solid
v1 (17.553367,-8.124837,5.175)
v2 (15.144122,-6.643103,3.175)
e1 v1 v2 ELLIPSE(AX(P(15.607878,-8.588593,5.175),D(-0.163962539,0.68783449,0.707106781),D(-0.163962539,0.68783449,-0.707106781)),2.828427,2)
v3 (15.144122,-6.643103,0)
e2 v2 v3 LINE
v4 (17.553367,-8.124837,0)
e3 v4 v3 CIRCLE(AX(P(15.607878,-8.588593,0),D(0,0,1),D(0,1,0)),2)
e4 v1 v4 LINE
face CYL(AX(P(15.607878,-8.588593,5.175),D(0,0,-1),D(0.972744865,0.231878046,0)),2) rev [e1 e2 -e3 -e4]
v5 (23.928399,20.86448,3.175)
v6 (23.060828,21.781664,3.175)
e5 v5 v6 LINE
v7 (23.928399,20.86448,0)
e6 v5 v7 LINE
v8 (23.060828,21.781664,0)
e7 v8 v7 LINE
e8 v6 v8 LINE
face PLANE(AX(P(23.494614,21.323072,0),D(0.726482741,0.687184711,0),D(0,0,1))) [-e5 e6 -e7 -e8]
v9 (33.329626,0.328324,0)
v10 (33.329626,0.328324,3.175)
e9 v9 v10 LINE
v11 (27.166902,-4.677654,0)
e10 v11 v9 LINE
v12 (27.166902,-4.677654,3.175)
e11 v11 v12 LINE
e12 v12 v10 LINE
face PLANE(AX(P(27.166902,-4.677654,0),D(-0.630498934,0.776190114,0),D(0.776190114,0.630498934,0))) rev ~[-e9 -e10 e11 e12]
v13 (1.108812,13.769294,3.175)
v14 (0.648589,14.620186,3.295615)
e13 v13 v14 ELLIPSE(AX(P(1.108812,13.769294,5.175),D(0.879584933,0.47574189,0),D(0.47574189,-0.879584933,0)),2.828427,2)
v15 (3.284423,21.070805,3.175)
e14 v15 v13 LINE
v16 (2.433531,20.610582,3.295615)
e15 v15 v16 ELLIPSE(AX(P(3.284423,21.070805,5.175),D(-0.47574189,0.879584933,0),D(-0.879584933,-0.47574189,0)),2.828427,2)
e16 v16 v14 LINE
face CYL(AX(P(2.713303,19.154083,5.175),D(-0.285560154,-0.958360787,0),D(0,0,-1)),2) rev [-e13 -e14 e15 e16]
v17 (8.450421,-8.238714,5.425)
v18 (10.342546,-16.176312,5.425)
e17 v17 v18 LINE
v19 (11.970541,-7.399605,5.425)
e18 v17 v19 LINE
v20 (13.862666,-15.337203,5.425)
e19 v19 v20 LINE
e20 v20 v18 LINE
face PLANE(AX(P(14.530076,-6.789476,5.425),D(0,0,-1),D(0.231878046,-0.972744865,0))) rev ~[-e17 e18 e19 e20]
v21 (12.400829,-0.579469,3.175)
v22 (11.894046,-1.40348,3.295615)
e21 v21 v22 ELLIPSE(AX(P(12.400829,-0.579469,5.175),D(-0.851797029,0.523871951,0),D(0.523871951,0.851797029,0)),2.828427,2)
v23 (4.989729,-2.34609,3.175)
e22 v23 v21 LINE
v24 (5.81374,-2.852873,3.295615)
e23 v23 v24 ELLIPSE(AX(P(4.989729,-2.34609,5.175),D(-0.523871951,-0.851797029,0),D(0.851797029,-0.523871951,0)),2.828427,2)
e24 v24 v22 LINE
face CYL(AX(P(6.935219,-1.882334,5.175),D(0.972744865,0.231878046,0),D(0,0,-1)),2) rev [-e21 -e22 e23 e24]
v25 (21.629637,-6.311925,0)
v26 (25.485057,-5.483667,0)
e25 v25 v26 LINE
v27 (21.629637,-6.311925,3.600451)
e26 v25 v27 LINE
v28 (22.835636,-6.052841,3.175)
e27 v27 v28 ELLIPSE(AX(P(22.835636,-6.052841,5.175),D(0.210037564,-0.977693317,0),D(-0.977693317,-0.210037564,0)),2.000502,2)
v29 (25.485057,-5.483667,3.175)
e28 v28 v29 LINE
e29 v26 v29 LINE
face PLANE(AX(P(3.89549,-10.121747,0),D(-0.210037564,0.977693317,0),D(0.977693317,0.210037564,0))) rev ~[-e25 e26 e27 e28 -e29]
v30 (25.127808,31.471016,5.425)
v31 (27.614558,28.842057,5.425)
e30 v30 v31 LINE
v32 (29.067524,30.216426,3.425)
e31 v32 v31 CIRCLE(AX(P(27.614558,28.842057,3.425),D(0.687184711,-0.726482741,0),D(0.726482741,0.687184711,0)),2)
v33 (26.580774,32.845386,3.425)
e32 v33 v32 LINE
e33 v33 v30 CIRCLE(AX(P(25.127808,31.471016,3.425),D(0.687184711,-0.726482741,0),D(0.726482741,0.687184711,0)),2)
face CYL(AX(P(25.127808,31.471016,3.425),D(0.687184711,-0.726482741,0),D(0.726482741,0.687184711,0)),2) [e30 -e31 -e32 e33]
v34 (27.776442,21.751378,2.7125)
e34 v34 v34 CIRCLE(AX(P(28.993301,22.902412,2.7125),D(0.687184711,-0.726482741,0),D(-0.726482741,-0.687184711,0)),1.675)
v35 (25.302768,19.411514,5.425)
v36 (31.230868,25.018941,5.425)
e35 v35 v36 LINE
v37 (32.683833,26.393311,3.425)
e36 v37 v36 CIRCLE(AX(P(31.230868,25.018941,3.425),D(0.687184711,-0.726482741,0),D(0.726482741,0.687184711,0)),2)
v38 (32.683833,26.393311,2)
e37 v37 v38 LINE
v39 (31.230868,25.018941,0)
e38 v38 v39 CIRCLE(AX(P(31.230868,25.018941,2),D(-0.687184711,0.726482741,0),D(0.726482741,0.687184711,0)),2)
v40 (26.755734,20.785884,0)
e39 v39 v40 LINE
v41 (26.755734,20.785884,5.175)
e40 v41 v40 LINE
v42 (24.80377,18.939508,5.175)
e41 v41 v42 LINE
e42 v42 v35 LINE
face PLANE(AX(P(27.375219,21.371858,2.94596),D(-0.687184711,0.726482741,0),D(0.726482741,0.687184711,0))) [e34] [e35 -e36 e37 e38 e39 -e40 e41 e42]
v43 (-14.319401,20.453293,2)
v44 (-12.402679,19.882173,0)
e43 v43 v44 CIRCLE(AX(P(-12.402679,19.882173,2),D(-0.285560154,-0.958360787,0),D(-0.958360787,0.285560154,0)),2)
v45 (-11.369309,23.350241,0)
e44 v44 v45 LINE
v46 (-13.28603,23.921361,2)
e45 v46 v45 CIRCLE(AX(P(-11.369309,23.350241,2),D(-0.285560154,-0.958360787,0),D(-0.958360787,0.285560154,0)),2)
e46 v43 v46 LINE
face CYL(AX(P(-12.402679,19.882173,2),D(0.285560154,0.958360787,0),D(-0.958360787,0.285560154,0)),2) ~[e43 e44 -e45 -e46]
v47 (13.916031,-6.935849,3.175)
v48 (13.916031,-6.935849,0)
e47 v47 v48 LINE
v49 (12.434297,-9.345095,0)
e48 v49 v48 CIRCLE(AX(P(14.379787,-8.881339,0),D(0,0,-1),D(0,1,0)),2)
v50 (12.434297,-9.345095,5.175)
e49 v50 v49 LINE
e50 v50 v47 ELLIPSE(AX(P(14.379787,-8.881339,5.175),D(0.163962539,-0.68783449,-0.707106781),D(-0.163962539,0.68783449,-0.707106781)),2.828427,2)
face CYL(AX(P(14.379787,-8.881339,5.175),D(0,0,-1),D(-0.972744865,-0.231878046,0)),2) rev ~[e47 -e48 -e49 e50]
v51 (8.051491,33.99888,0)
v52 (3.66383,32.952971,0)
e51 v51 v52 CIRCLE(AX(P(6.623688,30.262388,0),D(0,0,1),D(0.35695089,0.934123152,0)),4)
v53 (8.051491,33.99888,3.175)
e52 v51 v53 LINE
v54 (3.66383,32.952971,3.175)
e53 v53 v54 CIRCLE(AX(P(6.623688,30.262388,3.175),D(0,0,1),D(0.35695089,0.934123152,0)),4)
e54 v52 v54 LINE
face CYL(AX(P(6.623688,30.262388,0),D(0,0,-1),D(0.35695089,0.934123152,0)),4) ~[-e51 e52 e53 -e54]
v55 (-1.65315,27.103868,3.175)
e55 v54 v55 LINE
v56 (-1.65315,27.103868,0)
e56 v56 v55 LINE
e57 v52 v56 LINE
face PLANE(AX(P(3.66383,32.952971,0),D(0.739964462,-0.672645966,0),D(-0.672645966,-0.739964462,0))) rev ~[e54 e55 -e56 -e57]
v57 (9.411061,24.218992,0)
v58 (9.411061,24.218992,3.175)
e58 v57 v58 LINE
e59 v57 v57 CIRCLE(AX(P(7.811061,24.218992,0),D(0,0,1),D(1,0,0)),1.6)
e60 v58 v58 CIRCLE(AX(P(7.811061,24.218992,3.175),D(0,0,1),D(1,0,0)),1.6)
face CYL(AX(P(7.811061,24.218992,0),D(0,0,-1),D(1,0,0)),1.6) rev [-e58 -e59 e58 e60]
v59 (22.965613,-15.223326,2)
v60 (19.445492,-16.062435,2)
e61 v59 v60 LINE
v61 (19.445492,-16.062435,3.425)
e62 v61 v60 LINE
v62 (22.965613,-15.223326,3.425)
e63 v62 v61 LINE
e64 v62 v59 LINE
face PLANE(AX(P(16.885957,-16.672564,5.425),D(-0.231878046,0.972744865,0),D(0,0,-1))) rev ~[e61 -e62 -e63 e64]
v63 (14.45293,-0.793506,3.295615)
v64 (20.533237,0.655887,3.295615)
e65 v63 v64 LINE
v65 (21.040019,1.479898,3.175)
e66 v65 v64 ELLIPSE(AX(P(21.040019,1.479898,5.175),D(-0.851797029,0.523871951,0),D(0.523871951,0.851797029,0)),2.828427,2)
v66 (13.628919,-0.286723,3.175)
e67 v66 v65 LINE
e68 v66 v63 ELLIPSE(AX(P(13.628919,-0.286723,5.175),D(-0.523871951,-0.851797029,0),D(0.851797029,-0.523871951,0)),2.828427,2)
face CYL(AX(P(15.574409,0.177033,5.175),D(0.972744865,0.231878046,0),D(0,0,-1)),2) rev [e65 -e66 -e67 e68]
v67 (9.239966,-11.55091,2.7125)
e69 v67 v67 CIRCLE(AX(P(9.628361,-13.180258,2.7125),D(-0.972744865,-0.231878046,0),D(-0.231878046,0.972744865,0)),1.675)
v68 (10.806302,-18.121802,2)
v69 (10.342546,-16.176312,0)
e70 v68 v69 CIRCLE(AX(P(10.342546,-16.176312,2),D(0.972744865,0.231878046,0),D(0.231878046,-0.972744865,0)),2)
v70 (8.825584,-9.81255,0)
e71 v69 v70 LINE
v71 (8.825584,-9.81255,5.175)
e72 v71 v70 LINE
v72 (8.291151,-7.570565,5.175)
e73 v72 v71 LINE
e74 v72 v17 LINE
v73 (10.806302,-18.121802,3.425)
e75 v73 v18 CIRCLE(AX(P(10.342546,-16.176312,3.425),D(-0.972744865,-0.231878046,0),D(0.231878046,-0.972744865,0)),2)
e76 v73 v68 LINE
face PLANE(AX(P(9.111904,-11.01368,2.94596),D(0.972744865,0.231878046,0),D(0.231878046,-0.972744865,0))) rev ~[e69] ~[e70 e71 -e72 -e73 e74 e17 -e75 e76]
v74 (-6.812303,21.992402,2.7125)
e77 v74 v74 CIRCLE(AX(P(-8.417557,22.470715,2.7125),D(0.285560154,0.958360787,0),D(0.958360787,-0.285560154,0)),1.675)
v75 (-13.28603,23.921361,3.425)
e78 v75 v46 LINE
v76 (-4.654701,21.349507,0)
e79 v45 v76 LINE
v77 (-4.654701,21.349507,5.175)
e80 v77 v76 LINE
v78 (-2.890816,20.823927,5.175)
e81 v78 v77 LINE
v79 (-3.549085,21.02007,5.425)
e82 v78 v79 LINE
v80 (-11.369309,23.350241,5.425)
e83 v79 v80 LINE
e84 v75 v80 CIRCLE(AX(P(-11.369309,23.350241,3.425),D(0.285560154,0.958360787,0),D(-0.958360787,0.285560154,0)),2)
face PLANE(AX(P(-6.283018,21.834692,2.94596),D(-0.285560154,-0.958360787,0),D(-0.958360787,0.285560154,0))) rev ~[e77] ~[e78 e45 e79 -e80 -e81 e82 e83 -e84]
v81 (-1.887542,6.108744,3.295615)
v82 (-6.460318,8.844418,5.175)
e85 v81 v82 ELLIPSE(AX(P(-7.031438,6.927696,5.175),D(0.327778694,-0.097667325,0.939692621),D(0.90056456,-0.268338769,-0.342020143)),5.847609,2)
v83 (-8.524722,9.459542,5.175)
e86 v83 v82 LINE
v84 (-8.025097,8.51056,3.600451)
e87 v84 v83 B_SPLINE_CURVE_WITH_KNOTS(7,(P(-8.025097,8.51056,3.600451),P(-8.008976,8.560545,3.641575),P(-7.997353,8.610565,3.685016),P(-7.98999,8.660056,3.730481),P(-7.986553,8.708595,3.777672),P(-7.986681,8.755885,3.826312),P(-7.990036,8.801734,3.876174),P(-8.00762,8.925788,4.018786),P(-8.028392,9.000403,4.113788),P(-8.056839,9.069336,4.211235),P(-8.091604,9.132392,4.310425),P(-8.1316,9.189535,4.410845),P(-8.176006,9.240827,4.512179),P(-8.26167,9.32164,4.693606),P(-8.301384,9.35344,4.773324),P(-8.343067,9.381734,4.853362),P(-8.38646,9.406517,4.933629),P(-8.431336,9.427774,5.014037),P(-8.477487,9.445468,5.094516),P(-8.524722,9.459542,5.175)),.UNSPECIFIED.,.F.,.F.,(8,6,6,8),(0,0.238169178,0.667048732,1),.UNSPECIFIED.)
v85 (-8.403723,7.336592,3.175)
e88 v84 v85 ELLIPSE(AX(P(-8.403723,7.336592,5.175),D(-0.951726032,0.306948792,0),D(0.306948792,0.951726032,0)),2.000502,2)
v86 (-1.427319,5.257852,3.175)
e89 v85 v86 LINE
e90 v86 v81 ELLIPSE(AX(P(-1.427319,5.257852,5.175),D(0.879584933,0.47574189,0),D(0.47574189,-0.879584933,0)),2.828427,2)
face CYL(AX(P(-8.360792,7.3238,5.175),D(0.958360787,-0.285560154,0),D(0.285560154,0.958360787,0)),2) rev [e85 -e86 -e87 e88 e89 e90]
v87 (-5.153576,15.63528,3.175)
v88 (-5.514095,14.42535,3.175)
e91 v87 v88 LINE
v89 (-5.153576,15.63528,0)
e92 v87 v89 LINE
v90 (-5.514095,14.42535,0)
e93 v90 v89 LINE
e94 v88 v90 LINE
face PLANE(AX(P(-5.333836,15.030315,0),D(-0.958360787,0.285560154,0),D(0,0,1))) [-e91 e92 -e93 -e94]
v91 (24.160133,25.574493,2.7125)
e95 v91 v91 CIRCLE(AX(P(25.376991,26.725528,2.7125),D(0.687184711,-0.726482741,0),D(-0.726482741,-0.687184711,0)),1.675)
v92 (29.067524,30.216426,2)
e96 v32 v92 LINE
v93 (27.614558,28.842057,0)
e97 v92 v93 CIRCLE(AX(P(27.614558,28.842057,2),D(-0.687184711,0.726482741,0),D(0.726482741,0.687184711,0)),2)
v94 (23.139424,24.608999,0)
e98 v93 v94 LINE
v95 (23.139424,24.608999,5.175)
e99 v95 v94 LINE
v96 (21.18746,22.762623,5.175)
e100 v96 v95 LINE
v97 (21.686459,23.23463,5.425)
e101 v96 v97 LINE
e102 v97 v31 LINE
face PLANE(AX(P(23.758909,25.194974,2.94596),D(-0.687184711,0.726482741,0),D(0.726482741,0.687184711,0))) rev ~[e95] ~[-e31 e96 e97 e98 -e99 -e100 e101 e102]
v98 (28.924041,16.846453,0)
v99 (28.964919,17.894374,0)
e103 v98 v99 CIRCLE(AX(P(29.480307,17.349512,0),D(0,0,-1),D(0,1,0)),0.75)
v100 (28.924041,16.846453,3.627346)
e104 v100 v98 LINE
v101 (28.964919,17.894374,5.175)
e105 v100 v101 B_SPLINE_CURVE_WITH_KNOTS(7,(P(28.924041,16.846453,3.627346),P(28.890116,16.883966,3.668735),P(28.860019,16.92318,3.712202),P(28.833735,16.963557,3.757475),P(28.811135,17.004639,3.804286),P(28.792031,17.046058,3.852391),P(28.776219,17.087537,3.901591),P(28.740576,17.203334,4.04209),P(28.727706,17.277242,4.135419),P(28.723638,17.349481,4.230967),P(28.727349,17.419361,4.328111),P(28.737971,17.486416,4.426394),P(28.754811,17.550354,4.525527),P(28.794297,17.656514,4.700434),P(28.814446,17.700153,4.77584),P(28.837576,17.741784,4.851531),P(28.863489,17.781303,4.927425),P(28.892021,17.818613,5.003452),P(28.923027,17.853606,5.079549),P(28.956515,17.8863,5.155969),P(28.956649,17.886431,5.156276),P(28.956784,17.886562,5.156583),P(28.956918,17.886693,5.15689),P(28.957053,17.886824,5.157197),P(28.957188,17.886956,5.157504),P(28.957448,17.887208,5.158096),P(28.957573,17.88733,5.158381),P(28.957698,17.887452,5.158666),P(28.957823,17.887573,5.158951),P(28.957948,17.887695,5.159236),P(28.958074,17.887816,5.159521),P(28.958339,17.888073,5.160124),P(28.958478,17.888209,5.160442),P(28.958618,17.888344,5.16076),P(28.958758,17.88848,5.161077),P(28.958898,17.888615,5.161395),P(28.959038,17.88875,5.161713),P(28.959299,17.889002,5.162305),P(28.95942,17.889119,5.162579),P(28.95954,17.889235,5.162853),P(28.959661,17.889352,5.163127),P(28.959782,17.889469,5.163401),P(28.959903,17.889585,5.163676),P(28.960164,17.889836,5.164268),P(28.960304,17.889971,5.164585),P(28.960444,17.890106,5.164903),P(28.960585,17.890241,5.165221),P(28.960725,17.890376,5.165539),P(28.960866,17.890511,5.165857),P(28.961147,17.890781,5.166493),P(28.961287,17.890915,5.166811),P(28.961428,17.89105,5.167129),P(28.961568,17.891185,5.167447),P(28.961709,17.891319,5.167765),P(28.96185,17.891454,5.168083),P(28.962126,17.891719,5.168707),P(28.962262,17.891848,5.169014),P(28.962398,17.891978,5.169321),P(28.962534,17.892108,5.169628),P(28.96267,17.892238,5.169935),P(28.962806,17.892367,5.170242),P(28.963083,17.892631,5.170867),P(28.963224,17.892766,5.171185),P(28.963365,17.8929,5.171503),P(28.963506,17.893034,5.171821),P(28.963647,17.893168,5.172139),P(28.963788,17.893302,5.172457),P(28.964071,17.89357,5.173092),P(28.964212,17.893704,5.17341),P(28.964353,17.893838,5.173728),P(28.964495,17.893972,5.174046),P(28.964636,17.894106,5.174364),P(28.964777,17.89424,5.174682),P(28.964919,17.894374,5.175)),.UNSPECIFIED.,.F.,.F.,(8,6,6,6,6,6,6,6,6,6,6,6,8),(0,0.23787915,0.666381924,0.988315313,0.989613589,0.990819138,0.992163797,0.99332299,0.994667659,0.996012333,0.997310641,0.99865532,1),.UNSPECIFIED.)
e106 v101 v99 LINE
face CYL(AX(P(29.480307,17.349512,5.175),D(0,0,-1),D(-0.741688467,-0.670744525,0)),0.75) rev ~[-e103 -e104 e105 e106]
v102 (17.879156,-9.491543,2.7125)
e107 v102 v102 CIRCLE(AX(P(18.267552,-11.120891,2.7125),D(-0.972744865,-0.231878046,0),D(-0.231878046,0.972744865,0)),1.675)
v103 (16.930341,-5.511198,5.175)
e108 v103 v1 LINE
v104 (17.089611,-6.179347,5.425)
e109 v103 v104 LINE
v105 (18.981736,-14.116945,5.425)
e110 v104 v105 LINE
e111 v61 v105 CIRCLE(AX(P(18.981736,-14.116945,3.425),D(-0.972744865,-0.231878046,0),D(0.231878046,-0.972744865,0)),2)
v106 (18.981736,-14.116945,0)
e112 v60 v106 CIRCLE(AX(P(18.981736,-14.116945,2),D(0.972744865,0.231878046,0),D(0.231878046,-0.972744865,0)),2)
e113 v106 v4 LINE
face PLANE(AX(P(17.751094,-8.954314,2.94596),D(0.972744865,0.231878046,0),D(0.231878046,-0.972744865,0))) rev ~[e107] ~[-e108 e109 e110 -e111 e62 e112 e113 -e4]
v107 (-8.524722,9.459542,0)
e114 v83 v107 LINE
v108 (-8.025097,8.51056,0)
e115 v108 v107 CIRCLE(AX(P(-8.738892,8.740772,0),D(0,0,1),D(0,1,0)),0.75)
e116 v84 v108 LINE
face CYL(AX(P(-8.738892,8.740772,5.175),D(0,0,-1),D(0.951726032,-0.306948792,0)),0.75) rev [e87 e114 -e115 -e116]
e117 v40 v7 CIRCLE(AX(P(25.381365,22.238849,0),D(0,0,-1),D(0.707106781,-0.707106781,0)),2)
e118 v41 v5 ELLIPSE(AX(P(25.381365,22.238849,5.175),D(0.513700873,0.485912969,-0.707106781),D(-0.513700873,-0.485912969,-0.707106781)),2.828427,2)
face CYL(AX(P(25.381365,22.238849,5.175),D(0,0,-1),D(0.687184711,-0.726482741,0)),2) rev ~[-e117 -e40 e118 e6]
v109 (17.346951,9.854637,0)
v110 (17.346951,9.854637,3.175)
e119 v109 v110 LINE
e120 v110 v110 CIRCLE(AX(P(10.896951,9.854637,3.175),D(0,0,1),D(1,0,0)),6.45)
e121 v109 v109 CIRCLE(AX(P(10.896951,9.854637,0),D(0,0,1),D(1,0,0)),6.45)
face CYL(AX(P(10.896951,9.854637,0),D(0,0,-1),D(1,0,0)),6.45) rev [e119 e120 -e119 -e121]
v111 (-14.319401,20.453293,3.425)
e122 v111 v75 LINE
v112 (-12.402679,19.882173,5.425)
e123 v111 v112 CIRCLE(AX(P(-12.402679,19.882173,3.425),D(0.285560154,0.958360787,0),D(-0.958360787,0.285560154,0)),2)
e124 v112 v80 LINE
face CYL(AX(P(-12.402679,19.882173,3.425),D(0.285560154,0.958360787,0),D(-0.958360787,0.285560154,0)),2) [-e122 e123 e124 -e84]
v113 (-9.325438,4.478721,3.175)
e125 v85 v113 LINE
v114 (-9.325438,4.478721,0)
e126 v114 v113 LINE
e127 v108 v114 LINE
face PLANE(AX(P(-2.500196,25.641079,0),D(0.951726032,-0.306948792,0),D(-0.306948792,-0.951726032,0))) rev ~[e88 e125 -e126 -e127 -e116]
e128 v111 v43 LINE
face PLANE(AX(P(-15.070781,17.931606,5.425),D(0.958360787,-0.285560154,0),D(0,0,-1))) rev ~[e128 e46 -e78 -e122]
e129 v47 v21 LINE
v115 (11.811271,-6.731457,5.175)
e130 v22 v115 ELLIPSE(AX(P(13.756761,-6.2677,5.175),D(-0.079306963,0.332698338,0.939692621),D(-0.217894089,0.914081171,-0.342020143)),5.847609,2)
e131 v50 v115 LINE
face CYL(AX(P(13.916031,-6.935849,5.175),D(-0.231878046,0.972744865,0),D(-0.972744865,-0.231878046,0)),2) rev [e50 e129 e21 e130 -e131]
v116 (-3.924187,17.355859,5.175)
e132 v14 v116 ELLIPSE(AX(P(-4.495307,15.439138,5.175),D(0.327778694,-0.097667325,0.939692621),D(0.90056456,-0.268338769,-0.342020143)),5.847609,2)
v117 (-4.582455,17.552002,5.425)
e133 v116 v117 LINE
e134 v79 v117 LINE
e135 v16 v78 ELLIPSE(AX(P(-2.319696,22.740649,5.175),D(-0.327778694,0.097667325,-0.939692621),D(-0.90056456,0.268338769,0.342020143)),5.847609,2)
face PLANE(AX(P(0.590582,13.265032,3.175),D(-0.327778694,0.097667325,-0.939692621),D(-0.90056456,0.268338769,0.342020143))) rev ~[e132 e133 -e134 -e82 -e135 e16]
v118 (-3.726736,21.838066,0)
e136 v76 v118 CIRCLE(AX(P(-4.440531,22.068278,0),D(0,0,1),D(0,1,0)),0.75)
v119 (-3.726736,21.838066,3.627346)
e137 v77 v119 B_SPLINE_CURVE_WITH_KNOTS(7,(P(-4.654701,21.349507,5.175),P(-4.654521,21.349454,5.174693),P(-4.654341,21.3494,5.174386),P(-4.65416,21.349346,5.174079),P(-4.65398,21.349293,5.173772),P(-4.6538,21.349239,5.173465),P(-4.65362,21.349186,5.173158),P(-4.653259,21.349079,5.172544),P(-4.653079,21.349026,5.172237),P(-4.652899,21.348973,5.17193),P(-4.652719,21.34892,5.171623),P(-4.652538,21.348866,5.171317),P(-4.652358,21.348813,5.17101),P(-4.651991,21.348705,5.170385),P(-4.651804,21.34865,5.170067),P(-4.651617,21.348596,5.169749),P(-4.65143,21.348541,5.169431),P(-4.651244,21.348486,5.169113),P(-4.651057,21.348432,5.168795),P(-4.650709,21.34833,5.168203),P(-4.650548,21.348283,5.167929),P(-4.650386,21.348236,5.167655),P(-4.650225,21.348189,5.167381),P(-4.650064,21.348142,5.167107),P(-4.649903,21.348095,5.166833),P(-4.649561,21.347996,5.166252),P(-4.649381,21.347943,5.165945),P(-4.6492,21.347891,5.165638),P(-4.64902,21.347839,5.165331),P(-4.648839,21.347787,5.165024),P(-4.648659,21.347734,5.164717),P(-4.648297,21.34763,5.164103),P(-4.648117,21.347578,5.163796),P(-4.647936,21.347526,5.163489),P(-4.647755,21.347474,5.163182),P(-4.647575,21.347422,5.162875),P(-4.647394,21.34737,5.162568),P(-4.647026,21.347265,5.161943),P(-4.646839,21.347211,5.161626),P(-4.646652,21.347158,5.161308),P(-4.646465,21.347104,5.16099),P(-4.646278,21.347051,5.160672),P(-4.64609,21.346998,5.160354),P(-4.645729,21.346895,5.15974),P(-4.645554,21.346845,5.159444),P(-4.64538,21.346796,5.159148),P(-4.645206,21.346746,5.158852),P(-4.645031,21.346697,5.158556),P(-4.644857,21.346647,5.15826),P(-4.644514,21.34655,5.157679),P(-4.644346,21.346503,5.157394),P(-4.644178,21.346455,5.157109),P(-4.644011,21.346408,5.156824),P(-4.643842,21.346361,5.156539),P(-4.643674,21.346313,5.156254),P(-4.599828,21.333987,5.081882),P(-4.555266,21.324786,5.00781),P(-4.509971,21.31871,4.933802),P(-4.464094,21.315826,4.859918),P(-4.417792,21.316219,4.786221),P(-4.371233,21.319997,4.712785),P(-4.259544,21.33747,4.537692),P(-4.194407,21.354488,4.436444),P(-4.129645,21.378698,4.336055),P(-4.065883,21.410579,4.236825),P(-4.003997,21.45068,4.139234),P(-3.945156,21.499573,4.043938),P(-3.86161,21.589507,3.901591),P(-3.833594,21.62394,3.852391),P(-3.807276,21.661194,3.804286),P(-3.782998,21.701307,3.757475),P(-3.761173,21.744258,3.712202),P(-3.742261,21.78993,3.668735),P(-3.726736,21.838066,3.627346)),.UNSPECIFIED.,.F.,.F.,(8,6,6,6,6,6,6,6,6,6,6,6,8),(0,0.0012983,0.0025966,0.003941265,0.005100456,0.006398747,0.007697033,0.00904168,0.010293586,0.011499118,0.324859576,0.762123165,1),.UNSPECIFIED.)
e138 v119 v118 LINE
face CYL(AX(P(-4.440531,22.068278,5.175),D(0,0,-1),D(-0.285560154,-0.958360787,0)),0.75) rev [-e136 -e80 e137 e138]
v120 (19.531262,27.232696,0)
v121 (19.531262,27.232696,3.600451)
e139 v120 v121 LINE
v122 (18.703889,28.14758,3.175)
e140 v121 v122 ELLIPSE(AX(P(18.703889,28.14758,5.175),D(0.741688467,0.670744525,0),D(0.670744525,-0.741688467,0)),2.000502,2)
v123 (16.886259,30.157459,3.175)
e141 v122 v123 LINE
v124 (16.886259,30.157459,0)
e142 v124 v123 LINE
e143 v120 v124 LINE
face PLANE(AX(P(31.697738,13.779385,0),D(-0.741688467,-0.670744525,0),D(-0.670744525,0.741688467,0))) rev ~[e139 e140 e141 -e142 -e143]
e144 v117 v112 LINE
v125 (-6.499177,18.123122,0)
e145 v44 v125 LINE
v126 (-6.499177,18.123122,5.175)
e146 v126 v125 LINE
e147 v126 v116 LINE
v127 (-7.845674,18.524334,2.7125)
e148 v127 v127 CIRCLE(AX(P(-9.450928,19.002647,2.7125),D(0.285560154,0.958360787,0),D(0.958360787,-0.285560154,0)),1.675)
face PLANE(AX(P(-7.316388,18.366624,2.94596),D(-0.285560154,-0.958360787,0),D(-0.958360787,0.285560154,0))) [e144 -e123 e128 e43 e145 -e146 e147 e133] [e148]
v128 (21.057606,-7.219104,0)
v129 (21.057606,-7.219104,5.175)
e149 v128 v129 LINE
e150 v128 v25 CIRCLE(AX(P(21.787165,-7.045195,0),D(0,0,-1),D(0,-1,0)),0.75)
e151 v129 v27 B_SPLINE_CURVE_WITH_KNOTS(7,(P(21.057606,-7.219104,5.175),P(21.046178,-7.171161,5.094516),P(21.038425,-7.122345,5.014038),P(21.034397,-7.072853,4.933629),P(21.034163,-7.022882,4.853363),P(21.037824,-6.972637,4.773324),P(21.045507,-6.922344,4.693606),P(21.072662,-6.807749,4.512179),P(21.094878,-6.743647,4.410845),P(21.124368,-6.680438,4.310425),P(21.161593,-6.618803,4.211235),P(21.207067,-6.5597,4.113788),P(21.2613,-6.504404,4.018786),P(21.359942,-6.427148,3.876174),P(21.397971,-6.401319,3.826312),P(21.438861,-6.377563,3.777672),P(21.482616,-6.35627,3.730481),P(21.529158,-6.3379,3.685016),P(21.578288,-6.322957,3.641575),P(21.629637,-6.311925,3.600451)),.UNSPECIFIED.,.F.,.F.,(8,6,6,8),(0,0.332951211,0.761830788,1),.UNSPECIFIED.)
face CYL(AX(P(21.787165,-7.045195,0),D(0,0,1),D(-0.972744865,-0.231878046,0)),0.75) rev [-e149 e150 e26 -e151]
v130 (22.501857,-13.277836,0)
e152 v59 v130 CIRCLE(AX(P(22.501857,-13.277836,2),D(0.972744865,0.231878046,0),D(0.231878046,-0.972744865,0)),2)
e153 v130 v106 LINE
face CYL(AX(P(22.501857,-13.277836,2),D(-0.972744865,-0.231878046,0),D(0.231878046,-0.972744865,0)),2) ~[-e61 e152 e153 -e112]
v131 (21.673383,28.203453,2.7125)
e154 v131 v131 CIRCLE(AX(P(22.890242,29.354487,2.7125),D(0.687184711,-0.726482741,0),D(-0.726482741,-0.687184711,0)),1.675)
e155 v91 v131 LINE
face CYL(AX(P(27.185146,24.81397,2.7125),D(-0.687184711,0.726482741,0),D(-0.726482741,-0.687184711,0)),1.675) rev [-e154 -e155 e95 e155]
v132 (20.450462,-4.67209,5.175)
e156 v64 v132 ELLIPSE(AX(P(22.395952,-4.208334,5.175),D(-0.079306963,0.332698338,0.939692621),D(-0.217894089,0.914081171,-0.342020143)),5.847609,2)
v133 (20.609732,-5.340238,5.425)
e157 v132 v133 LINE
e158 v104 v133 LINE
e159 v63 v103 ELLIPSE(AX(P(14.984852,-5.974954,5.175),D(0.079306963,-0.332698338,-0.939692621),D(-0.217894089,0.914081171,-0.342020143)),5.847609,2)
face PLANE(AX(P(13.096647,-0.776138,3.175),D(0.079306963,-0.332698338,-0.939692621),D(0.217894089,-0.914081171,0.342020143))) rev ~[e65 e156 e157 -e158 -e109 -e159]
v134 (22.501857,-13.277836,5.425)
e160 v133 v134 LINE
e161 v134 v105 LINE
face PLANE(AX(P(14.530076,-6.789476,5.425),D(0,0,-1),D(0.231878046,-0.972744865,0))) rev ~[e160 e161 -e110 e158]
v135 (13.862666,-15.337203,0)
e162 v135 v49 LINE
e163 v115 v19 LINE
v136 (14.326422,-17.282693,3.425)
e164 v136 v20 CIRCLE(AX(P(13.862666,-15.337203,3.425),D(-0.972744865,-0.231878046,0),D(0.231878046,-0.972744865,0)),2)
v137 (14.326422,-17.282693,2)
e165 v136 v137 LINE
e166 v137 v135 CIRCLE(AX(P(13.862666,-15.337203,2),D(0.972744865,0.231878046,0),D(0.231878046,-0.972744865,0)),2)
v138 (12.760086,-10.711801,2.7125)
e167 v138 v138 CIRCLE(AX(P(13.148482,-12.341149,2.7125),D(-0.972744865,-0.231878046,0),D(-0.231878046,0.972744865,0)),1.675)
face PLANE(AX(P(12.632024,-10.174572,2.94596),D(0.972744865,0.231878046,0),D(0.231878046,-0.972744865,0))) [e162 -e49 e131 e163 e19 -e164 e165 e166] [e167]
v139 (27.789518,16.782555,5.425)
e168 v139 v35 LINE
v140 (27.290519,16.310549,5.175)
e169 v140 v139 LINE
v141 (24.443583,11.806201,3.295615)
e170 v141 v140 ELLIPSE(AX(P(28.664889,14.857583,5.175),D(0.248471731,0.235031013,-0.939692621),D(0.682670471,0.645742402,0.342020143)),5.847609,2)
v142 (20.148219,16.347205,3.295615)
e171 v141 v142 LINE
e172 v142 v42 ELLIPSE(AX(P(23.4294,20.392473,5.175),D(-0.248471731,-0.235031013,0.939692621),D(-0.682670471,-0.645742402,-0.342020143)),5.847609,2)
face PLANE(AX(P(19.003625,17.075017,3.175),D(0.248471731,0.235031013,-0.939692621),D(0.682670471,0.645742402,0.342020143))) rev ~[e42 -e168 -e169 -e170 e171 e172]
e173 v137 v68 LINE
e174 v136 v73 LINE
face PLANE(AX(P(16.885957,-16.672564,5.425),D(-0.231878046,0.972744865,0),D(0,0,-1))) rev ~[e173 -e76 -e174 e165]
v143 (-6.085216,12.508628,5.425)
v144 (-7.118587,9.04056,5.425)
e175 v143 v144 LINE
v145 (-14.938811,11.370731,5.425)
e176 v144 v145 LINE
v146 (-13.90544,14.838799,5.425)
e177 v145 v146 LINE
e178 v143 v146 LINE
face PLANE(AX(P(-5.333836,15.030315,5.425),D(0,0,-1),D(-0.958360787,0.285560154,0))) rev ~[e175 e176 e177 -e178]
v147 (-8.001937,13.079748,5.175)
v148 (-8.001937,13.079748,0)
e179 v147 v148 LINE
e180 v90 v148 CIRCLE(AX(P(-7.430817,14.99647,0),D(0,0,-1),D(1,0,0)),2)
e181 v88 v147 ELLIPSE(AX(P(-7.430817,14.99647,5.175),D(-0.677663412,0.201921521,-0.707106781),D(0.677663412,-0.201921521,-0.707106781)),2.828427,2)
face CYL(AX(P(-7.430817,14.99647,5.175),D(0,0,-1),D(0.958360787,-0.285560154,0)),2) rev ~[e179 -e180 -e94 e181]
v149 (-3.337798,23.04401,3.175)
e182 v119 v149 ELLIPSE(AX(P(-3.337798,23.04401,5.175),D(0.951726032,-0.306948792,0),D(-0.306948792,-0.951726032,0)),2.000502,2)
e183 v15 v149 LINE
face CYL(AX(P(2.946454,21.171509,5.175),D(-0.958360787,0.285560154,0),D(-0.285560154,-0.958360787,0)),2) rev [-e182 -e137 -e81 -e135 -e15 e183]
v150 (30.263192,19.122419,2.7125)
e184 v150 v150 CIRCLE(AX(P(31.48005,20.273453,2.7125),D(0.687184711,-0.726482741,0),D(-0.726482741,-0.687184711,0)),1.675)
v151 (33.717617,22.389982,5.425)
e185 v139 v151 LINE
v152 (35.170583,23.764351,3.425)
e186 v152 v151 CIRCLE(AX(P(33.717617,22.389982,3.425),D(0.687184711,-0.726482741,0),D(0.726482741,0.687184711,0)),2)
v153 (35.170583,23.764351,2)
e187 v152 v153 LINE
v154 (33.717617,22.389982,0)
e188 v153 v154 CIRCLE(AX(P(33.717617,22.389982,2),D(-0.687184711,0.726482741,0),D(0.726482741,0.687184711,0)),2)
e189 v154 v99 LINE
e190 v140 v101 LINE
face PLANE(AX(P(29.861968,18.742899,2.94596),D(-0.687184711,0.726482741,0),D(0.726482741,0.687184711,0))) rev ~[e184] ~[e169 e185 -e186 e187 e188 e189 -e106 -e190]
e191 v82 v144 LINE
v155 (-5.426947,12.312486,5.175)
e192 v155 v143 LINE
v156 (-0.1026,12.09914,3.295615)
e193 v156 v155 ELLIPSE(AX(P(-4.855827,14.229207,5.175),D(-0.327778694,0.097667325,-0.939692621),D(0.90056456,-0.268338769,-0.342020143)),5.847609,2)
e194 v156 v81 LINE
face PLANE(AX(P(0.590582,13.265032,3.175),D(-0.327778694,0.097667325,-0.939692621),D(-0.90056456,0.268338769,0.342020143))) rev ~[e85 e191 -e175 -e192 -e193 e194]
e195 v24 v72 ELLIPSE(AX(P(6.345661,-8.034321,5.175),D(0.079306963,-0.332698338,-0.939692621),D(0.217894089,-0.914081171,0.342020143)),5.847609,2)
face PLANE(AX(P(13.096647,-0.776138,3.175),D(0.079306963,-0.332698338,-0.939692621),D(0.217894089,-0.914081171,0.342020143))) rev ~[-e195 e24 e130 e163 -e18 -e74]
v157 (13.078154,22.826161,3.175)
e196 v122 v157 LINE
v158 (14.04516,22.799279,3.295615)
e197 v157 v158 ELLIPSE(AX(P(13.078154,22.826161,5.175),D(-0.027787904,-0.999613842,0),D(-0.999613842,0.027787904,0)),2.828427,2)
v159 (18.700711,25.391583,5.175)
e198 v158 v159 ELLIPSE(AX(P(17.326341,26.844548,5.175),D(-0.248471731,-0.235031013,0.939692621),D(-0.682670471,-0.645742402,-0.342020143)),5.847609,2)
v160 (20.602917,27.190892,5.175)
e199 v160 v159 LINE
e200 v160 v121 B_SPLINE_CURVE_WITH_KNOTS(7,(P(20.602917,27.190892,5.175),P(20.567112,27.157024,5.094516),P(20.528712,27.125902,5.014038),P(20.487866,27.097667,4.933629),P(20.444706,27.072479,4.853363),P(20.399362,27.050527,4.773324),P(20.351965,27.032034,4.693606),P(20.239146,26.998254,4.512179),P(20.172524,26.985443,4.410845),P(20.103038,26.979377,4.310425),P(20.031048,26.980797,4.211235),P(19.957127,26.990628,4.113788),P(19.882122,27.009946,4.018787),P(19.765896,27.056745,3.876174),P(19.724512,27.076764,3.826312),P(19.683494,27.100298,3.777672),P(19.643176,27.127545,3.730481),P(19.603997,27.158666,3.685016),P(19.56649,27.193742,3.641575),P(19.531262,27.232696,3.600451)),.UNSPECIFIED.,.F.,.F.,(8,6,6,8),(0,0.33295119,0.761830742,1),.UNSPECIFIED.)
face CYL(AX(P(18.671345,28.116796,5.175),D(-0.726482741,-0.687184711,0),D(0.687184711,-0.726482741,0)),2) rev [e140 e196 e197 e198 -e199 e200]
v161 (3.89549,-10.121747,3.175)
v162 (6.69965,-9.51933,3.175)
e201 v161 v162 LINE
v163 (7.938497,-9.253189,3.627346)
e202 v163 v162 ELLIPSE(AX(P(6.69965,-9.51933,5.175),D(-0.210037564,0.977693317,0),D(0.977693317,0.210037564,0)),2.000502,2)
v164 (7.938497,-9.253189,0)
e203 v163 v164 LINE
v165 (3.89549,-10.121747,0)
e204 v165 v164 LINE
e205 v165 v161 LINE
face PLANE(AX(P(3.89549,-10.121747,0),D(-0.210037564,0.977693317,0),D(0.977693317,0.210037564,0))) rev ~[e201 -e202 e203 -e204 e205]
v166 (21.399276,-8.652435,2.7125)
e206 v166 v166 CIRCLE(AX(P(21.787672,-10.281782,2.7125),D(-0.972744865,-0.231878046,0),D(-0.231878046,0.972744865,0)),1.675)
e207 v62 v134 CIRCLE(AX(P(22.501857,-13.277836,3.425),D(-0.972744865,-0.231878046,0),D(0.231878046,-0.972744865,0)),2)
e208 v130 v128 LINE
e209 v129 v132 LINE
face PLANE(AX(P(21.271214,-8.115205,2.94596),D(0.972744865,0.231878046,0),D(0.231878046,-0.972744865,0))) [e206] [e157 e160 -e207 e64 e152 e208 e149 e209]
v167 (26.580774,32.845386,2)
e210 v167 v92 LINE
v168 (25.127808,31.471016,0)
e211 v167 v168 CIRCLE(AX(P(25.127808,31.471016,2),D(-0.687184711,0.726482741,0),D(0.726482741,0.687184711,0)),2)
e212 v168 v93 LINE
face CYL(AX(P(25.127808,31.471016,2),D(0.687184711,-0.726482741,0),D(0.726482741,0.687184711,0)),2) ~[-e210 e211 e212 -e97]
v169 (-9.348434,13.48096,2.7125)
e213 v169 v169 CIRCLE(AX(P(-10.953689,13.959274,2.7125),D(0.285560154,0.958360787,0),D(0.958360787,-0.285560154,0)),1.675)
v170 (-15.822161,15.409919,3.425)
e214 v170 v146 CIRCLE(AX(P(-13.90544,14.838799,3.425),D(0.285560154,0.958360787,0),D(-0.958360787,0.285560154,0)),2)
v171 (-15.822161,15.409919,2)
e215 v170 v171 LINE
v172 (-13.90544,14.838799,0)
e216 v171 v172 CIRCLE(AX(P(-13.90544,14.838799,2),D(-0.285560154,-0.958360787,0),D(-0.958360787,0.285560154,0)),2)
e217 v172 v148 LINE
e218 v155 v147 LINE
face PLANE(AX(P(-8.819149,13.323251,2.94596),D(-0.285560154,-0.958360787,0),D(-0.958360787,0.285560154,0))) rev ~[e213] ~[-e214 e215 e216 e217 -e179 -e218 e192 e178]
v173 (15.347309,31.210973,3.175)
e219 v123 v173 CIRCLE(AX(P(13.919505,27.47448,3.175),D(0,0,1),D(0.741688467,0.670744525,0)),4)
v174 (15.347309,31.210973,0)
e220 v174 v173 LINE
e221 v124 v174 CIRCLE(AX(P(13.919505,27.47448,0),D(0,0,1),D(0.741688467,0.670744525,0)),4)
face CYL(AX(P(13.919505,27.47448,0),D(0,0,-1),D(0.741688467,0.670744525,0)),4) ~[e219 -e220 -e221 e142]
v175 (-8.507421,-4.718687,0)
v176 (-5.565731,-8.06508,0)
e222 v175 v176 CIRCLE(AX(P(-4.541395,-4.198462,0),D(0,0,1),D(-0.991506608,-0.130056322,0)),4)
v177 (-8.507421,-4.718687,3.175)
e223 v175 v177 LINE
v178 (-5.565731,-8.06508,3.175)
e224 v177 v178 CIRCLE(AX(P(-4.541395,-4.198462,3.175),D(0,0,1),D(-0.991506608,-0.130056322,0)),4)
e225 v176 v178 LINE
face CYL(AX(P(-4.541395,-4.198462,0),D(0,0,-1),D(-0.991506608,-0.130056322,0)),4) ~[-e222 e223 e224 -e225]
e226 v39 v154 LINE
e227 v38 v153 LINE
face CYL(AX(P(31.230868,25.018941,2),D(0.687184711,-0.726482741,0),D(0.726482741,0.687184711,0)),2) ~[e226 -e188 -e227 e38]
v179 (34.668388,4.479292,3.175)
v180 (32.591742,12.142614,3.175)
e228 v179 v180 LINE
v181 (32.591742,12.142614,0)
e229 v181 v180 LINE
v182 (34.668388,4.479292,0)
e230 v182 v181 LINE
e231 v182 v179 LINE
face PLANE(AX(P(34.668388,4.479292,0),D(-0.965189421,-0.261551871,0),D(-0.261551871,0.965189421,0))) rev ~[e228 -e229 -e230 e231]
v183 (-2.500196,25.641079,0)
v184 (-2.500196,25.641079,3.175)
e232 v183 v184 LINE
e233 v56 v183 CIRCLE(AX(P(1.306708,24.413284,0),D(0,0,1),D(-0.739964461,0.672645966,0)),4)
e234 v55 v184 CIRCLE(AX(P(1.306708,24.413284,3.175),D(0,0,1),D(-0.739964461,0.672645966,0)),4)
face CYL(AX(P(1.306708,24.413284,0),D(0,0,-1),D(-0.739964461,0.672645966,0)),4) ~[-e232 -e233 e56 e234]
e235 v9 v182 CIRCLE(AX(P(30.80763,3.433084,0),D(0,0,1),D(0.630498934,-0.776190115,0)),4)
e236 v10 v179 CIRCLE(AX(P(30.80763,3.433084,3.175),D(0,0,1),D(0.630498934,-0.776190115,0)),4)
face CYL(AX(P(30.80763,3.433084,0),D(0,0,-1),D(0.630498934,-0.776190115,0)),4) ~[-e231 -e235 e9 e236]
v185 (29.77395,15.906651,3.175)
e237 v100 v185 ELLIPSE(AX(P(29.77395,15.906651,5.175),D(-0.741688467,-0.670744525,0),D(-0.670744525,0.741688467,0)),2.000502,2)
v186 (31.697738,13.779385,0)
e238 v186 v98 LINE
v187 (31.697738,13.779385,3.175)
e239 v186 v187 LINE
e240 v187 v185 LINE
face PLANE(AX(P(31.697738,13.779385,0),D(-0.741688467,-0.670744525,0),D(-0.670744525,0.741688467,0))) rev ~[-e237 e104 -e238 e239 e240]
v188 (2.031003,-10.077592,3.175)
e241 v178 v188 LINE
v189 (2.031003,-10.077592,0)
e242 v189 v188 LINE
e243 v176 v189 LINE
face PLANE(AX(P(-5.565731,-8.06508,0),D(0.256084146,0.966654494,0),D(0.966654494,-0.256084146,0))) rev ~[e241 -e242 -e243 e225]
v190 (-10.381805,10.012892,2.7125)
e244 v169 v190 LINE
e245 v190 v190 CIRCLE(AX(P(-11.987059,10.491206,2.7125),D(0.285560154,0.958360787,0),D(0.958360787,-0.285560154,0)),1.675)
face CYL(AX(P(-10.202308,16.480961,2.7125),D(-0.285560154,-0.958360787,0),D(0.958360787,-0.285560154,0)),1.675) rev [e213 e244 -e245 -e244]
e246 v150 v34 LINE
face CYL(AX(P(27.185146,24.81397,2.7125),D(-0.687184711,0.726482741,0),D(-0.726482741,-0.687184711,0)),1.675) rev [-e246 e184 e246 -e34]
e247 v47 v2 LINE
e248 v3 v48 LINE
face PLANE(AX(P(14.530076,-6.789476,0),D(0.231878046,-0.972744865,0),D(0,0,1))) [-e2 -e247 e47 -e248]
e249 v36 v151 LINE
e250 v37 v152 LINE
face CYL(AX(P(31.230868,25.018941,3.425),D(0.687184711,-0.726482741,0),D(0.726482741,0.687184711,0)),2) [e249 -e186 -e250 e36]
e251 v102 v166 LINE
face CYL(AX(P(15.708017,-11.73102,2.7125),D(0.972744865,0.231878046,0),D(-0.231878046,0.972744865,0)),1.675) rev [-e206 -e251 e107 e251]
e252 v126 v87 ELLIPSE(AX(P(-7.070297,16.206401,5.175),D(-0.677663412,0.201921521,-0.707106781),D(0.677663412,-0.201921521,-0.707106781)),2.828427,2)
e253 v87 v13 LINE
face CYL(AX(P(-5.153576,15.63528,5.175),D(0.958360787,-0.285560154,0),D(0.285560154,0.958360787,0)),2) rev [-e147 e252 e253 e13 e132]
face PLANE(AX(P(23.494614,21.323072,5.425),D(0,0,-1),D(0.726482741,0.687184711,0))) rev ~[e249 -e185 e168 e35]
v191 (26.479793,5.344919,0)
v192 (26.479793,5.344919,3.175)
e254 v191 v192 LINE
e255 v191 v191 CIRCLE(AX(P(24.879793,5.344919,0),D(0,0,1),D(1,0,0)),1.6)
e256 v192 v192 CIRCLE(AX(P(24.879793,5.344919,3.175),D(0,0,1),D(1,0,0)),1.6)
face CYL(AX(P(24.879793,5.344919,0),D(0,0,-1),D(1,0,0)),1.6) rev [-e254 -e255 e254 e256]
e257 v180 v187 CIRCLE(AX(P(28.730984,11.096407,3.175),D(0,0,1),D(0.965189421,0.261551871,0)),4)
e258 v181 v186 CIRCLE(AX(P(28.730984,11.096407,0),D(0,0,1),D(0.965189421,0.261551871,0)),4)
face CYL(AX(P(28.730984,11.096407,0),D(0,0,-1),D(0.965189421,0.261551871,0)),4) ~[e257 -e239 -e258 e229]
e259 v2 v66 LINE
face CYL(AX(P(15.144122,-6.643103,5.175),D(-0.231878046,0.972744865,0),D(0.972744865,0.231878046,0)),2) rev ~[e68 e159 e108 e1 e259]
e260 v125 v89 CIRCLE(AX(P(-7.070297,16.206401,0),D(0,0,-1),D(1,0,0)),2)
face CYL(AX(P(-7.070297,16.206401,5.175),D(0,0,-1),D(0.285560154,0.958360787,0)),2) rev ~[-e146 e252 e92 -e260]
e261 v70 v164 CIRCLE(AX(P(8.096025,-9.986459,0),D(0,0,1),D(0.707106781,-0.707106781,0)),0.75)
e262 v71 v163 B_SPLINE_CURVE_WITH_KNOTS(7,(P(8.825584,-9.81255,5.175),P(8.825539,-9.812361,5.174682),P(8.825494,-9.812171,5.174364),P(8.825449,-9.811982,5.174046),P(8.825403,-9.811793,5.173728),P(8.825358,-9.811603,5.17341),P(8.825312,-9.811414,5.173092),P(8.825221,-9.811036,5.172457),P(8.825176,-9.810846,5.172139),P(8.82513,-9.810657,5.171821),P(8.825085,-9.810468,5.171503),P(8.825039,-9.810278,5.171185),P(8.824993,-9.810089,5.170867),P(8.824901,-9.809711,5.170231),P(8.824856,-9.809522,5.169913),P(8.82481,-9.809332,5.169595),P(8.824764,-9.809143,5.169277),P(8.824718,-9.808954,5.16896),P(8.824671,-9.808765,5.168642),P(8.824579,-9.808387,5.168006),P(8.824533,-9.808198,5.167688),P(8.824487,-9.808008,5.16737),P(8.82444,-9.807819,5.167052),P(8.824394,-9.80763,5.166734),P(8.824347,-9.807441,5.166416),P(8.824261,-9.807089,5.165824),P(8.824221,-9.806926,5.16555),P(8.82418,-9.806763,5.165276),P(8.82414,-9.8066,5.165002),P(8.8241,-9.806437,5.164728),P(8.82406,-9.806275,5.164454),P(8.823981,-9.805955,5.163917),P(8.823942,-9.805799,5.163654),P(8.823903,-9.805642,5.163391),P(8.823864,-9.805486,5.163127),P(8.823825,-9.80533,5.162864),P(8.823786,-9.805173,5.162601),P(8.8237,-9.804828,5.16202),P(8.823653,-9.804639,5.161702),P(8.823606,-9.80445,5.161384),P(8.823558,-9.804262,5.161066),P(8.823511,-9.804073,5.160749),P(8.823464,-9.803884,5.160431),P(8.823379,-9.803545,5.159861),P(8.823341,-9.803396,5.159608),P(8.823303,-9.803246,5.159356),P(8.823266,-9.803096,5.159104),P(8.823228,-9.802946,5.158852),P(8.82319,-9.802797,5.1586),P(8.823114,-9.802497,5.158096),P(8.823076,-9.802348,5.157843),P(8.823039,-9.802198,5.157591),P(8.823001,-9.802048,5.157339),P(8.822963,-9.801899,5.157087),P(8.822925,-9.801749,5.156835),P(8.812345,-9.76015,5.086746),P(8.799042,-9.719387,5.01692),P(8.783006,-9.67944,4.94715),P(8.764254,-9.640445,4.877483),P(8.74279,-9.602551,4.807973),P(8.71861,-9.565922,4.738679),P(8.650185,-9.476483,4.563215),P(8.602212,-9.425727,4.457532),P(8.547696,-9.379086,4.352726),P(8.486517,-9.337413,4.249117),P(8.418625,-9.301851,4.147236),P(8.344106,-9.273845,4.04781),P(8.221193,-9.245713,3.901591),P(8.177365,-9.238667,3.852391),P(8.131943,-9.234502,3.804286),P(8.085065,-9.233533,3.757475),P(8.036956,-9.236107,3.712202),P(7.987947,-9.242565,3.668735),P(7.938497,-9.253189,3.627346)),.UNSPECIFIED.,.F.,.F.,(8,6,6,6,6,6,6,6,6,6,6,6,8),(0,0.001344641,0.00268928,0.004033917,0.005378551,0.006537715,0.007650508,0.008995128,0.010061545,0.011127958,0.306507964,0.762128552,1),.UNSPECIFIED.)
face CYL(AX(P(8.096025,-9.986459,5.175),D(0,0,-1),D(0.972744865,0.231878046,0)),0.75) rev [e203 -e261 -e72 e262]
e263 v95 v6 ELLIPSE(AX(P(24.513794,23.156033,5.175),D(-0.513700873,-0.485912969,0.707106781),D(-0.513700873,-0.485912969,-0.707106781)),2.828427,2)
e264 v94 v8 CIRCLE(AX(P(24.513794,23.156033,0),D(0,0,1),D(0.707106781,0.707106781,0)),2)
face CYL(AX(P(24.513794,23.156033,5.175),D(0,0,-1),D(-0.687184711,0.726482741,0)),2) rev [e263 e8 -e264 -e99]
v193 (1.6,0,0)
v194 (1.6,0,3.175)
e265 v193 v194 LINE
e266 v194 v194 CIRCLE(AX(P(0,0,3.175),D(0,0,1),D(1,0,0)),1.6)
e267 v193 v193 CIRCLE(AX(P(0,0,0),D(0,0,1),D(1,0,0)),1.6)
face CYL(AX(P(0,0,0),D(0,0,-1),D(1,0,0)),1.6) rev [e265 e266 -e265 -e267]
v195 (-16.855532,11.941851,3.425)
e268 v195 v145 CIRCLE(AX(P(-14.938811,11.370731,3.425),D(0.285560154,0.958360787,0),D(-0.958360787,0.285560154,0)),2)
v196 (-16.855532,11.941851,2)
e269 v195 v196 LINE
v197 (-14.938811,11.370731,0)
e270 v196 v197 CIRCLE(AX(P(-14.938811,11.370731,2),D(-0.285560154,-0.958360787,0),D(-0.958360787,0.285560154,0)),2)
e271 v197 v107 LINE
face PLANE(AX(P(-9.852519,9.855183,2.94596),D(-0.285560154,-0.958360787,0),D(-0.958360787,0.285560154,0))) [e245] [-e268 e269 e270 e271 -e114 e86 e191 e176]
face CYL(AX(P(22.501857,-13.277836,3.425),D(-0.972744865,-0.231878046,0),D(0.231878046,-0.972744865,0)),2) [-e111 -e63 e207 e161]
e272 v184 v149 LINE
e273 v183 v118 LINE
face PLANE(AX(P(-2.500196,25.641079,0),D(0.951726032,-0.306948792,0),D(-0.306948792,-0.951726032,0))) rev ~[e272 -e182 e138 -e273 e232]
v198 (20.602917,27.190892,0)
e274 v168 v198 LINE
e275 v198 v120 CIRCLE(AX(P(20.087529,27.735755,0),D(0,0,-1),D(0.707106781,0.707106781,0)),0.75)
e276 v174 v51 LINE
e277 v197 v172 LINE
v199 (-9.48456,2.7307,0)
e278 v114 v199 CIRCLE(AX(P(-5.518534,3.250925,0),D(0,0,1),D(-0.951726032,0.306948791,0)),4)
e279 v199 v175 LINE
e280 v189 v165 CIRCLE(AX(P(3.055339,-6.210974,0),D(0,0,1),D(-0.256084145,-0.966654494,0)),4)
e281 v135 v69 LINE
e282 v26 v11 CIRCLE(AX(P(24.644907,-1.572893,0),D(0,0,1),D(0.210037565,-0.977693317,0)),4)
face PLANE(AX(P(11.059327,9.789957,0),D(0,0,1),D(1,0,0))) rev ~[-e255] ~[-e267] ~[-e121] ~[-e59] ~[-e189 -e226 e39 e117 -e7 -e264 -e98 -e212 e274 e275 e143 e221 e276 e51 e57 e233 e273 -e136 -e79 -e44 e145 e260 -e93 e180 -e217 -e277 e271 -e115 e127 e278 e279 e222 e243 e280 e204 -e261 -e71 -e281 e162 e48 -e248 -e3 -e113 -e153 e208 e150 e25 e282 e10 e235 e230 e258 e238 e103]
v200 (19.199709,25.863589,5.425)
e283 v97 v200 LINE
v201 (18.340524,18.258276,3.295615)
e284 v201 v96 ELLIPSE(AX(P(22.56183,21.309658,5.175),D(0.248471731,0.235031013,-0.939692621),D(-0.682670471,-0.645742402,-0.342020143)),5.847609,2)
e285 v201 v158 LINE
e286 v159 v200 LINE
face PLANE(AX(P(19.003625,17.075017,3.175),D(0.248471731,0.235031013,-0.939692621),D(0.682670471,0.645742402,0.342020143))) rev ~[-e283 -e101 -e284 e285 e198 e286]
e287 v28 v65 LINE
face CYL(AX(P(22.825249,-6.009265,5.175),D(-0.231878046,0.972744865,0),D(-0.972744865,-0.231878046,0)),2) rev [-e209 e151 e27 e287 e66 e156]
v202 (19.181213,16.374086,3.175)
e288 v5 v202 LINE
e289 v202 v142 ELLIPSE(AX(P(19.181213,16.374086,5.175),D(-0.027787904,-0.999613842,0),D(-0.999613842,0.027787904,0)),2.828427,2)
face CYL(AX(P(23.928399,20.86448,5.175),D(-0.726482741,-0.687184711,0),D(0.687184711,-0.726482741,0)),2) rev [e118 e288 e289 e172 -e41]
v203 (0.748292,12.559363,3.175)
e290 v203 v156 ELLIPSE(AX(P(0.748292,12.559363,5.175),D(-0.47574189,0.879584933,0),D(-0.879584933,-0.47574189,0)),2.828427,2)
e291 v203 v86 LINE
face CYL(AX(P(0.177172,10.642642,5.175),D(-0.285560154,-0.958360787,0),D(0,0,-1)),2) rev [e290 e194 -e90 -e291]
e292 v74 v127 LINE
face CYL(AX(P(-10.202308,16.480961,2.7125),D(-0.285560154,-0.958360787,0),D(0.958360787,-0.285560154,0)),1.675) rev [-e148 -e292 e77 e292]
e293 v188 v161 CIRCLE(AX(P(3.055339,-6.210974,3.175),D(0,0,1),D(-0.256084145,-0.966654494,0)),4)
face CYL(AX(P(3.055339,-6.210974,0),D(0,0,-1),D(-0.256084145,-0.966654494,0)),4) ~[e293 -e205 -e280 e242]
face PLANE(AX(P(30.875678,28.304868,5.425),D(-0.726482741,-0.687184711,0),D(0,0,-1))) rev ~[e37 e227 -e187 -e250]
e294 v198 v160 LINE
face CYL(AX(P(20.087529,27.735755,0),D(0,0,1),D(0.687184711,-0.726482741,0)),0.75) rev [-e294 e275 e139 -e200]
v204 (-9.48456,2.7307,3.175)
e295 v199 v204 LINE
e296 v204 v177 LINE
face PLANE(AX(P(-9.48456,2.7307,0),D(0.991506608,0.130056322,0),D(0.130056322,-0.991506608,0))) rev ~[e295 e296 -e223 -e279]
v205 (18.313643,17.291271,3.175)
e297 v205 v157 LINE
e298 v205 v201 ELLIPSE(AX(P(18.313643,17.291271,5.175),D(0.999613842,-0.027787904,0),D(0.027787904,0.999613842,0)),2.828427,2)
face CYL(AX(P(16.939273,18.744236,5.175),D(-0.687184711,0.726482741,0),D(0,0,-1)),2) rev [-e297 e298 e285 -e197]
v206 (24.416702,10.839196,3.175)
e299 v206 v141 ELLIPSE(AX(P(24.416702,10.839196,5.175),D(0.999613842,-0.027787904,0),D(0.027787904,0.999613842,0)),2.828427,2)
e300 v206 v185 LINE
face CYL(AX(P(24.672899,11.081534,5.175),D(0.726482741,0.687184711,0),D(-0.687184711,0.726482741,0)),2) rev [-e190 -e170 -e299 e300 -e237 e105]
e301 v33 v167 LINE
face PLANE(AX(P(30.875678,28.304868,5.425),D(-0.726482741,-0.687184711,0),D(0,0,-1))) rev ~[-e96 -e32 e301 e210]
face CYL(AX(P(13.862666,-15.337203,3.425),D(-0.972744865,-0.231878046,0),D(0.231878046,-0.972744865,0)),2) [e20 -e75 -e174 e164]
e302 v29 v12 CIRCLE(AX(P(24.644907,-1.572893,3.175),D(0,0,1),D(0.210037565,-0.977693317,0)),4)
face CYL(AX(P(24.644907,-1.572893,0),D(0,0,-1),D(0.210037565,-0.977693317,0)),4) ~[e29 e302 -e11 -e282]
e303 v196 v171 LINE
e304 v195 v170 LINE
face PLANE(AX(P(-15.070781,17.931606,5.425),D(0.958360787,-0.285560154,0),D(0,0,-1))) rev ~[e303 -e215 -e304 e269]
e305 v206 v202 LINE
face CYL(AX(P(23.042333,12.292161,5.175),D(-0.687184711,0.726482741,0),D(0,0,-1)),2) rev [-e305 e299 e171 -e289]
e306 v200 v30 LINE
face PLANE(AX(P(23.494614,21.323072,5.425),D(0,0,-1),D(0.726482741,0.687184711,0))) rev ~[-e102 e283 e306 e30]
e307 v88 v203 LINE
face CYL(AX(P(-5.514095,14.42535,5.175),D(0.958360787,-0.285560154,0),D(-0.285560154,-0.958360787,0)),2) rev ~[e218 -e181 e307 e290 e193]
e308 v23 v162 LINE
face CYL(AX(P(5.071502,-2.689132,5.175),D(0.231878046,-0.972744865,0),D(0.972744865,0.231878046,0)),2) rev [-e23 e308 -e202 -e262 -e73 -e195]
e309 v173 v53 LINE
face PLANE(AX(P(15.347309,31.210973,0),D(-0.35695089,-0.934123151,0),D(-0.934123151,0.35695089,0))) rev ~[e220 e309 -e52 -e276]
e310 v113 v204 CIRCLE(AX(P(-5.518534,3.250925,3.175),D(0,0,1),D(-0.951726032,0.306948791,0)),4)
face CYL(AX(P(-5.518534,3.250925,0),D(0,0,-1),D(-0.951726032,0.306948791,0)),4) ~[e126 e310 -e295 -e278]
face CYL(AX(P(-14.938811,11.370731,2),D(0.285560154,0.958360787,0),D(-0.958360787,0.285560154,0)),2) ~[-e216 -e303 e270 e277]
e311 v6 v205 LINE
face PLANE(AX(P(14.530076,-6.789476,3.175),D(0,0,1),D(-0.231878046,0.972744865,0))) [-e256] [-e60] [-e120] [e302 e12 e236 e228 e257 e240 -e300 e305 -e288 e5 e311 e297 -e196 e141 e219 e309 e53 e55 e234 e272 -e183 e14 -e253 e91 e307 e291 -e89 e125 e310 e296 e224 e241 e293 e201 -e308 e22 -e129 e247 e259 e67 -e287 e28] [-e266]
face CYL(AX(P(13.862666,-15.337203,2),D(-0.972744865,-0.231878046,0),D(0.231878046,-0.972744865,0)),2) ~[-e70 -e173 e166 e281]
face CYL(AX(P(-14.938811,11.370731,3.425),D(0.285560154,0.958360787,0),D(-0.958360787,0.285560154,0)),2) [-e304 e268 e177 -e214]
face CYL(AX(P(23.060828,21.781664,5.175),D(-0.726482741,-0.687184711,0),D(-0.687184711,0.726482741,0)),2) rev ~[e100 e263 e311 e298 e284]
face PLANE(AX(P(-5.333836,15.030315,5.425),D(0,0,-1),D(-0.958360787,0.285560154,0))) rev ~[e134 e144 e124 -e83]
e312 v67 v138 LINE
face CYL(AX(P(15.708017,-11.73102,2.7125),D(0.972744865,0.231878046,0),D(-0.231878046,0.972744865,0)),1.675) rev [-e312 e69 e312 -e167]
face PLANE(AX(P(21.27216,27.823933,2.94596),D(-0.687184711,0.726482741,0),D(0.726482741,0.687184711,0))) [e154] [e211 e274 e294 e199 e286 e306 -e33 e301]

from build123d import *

# Parameters (mm, degrees)
SKETCH1_R                = 1.6
SKETCH1_R_2              = 6.45
BOSS_EXTRUDE1_DEPTH      = 3.175
SKETCH4_R                = 1.675
BOSS_EXTRUDE3_DEPTH      = 6.25
SKETCH4_2_R              = 1.675
CUT_EXTRUDE2_DEPTH       = 2.63125
FILLET1_R                = 2
FILLET2_R                = 2
FILLET3_R                = 2
CIRPATTERN2_COUNT        = 3
FILLET1_OF_CIRPATTERN2_R = 2
FILLET2_OF_CIRPATTERN2_R = 2
FILLET3_OF_CIRPATTERN2_R = 2
FILLET5_R                = 0.75


with BuildPart() as part:
    # Sketch1 → Boss-Extrude1 (new body)
    with BuildSketch(Plane.XY):
        with BuildLine():
            Line((15.347308801, 31.210973101), (8.051491314, 33.998880179))
            ThreePointArc((8.051491314, 33.998880179), (5.696175566, 34.15336703), (3.663829908, 32.952971436))
            Line((3.663829908, 32.952971436), (-1.653149933, 27.103867562))
            ThreePointArc((-1.653149933, 27.103867562), (-2.154824203, 26.417727613), (-2.500196213, 25.641078866))
            Line((-2.500196213, 25.641078866), (-9.325438013, 4.478720632))
            ThreePointArc((-9.325438013, 4.478720632), (-9.502063256, 3.613546149), (-9.484560317, 2.730700176))
            Line((-9.484560317, 2.730700176), (-8.507421128, -4.718687488))
            ThreePointArc((-8.507421128, -4.718687488), (-7.54564448, -6.839386894), (-5.565731281, -8.065080174))
            Line((-5.565731281, -8.065080174), (2.031002829, -10.077591551))
            ThreePointArc((2.031002829, -10.077591551), (2.960636861, -10.209852347), (3.895489669, -10.121746843))
            Line((3.895489669, -10.121746843), (25.485057009, -5.483666514))
            ThreePointArc((25.485057009, -5.483666514), (26.373611638, -5.180049941), (27.166902489, -4.677653705))
            Line((27.166902489, -4.677653705), (33.329625608, 0.328323939))
            ThreePointArc((33.329625608, 0.328323939), (34.614533997, 2.205289229), (34.668387555, 4.479291881))
            Line((34.668387555, 4.479291881), (32.591741985, 12.142614371))
            ThreePointArc((32.591741985, 12.142614371), (32.241466178, 13.013831458), (31.697738169, 13.779384986))
            Line((31.697738169, 13.779384986), (16.88625911, 30.157458595))
            ThreePointArc((16.88625911, 30.157458595), (16.17904213, 30.77516119), (15.347308801, 31.210973101))
        make_face()
        with Locations((24.879793107, 5.344918551)):
            Circle(SKETCH1_R, mode=Mode.SUBTRACT)
        with Locations((7.811061307, 24.218992148)):
            Circle(SKETCH1_R, mode=Mode.SUBTRACT)
        Circle(SKETCH1_R, mode=Mode.SUBTRACT)
        with Locations((10.896951472, 9.8546369)):
            Circle(SKETCH1_R_2, mode=Mode.SUBTRACT)
    extrude(amount=BOSS_EXTRUDE1_DEPTH)

    # Sketch4 → Boss-Extrude3 (add, symmetric)
    with BuildSketch(Plane(origin=(0.449621982, -0.475334512, 0), x_dir=(-0.726482741, -0.687184711, 0), z_dir=(0.687184711, -0.726482741, 0))):
        Polygon((-31.72132028, 0), (-31.72132028, -3.175), (-25.539496086, -3.175), (-31.72132028, -5.425), (-41.88132028, -5.425), (-41.88132028, 0), align=None)
        with Locations((-36.80132028, -2.7125)):
            Circle(SKETCH4_R, mode=Mode.SUBTRACT)
    boss_extrude3 = extrude(amount=BOSS_EXTRUDE3_DEPTH, both=True)

    # Sketch4<2> → Cut-Extrude2 (cut, symmetric)
    with BuildSketch(Plane(origin=(0.449621982, -0.475334512, 0), x_dir=(-0.726482741, -0.687184711, 0), z_dir=(0.687184711, -0.726482741, 0))):
        Polygon((-31.72132028, 0), (-31.72132028, -3.175), (-25.539496086, -3.175), (-31.72132028, -5.425), (-41.88132028, -5.425), (-41.88132028, 0), align=None)
        with Locations((-36.80132028, -2.7125)):
            Circle(SKETCH4_2_R, mode=Mode.SUBTRACT)
    cut_extrude2 = extrude(amount=CUT_EXTRUDE2_DEPTH, both=True, mode=Mode.SUBTRACT)

    # Fillet1
    fillet1_edges = [part.edges().sort_by_distance(p)[0] for p in [
        (19.440964609, 21.110601986, 3.175),
        (23.057274153, 17.287486564, 3.175),
        (25.865326768, 14.96244967, 3.175),
        (17.377217607, 24.139682361, 3.175),
        (22.0551547, 13.848979318, 3.175),
        (15.952095481, 20.301054157, 3.175),
    ]]
    fillet(fillet1_edges, radius=FILLET1_R)

    # Fillet2
    fillet2_edges = [part.edges().sort_by_distance(p)[0] for p in [
        (25.302768444, 19.411514101, 1.5875),
        (21.6864589, 23.234629523, 1.5875),
    ]]
    fillet(fillet2_edges, radius=FILLET2_R)

    # Fillet3
    fillet3_edges = [part.edges().sort_by_distance(p)[0] for p in [
        (27.824148706, 31.530905901, 0),
        (33.927207925, 25.078831062, 0),
        (33.927207925, 25.078831062, 5.425),
        (27.824148706, 31.530905901, 5.425),
    ]]
    fillet(fillet3_edges, radius=FILLET3_R)

    # CirPattern2: Boss-Extrude3, Cut-Extrude2 ×3 about axis
    cirpattern2_axis = Axis((10.896951472, 9.8546369, 0), (0, 0, 1))
    for i in range(1, CIRPATTERN2_COUNT):
        add(boss_extrude3.rotate(cirpattern2_axis, i * 360 / CIRPATTERN2_COUNT))
        add(cut_extrude2.rotate(cirpattern2_axis, i * 360 / CIRPATTERN2_COUNT), mode=Mode.SUBTRACT)

    # Fillet1 of CirPattern2
    fillet1_of_cirpattern2_edges = [part.edges().sort_by_distance(p)[0] for p in [
        (-3.123006806, 11.625986784, 3.175),
        (-1.620246501, 16.669360428, 3.175),
        (-1.010731793, 20.263723774, 3.175),
        (-4.71439386, 8.324189266, 3.175),
        (1.858647852, 17.520753147, 3.175),
        (-0.677483256, 9.009311403, 3.175),
        (16.372896612, -3.172678071, 3.175),
        (11.253826762, -4.392936293, 3.175),
        (7.836259441, -5.662262745, 3.175),
        (20.028030667, -2.899960928, 3.175),
        (8.777051863, -1.805821766, 3.175),
        (17.41624219, 0.253545139, 3.175),
    ]]
    fillet(fillet1_of_cirpattern2_edges, radius=FILLET1_OF_CIRPATTERN2_R)

    # Fillet2 of CirPattern2
    fillet2_of_cirpattern2_edges = [part.edges().sort_by_distance(p)[0] for p in [
        (-4.582455452, 17.552001759, 1.5875),
        (-6.085215757, 12.508628115, 1.5875),
        (11.970541423, -7.399605162, 1.5875),
        (17.089611272, -6.17934694, 1.5875),
    ]]
    fillet(fillet2_of_cirpattern2_edges, radius=FILLET2_OF_CIRPATTERN2_R)

    # Fillet3 of CirPattern2
    fillet3_of_cirpattern2_edges = [part.edges().sort_by_distance(p)[0] for p in [
        (-16.33884676, 13.675885219, 0),
        (-13.802715652, 22.187326963, 0),
        (-13.802715652, 22.187326963, 5.425),
        (-16.33884676, 13.675885219, 5.425),
        (21.205552469, -15.642880421, 0),
        (12.566362141, -17.702247326, 0),
        (12.566362141, -17.702247326, 5.425),
        (21.205552469, -15.642880421, 5.425),
    ]]
    fillet(fillet3_of_cirpattern2_edges, radius=FILLET3_OF_CIRPATTERN2_R)

    # Fillet5
    fillet5_edges = [part.edges().sort_by_distance(p)[0] for p in [
        (-7.789671487, 9.240521362, 1.5875),
        (-3.951849266, 21.140080535, 1.5875),
        (20.879758905, -6.473021336, 1.5875),
        (8.655527257, -9.099149384, 1.5875),
        (20.045714571, 26.663830856, 2.5875),
        (28.432123998, 17.390399731, 2.5875),
    ]]
    fillet(fillet5_edges, radius=FILLET5_R)


solid = part.part
